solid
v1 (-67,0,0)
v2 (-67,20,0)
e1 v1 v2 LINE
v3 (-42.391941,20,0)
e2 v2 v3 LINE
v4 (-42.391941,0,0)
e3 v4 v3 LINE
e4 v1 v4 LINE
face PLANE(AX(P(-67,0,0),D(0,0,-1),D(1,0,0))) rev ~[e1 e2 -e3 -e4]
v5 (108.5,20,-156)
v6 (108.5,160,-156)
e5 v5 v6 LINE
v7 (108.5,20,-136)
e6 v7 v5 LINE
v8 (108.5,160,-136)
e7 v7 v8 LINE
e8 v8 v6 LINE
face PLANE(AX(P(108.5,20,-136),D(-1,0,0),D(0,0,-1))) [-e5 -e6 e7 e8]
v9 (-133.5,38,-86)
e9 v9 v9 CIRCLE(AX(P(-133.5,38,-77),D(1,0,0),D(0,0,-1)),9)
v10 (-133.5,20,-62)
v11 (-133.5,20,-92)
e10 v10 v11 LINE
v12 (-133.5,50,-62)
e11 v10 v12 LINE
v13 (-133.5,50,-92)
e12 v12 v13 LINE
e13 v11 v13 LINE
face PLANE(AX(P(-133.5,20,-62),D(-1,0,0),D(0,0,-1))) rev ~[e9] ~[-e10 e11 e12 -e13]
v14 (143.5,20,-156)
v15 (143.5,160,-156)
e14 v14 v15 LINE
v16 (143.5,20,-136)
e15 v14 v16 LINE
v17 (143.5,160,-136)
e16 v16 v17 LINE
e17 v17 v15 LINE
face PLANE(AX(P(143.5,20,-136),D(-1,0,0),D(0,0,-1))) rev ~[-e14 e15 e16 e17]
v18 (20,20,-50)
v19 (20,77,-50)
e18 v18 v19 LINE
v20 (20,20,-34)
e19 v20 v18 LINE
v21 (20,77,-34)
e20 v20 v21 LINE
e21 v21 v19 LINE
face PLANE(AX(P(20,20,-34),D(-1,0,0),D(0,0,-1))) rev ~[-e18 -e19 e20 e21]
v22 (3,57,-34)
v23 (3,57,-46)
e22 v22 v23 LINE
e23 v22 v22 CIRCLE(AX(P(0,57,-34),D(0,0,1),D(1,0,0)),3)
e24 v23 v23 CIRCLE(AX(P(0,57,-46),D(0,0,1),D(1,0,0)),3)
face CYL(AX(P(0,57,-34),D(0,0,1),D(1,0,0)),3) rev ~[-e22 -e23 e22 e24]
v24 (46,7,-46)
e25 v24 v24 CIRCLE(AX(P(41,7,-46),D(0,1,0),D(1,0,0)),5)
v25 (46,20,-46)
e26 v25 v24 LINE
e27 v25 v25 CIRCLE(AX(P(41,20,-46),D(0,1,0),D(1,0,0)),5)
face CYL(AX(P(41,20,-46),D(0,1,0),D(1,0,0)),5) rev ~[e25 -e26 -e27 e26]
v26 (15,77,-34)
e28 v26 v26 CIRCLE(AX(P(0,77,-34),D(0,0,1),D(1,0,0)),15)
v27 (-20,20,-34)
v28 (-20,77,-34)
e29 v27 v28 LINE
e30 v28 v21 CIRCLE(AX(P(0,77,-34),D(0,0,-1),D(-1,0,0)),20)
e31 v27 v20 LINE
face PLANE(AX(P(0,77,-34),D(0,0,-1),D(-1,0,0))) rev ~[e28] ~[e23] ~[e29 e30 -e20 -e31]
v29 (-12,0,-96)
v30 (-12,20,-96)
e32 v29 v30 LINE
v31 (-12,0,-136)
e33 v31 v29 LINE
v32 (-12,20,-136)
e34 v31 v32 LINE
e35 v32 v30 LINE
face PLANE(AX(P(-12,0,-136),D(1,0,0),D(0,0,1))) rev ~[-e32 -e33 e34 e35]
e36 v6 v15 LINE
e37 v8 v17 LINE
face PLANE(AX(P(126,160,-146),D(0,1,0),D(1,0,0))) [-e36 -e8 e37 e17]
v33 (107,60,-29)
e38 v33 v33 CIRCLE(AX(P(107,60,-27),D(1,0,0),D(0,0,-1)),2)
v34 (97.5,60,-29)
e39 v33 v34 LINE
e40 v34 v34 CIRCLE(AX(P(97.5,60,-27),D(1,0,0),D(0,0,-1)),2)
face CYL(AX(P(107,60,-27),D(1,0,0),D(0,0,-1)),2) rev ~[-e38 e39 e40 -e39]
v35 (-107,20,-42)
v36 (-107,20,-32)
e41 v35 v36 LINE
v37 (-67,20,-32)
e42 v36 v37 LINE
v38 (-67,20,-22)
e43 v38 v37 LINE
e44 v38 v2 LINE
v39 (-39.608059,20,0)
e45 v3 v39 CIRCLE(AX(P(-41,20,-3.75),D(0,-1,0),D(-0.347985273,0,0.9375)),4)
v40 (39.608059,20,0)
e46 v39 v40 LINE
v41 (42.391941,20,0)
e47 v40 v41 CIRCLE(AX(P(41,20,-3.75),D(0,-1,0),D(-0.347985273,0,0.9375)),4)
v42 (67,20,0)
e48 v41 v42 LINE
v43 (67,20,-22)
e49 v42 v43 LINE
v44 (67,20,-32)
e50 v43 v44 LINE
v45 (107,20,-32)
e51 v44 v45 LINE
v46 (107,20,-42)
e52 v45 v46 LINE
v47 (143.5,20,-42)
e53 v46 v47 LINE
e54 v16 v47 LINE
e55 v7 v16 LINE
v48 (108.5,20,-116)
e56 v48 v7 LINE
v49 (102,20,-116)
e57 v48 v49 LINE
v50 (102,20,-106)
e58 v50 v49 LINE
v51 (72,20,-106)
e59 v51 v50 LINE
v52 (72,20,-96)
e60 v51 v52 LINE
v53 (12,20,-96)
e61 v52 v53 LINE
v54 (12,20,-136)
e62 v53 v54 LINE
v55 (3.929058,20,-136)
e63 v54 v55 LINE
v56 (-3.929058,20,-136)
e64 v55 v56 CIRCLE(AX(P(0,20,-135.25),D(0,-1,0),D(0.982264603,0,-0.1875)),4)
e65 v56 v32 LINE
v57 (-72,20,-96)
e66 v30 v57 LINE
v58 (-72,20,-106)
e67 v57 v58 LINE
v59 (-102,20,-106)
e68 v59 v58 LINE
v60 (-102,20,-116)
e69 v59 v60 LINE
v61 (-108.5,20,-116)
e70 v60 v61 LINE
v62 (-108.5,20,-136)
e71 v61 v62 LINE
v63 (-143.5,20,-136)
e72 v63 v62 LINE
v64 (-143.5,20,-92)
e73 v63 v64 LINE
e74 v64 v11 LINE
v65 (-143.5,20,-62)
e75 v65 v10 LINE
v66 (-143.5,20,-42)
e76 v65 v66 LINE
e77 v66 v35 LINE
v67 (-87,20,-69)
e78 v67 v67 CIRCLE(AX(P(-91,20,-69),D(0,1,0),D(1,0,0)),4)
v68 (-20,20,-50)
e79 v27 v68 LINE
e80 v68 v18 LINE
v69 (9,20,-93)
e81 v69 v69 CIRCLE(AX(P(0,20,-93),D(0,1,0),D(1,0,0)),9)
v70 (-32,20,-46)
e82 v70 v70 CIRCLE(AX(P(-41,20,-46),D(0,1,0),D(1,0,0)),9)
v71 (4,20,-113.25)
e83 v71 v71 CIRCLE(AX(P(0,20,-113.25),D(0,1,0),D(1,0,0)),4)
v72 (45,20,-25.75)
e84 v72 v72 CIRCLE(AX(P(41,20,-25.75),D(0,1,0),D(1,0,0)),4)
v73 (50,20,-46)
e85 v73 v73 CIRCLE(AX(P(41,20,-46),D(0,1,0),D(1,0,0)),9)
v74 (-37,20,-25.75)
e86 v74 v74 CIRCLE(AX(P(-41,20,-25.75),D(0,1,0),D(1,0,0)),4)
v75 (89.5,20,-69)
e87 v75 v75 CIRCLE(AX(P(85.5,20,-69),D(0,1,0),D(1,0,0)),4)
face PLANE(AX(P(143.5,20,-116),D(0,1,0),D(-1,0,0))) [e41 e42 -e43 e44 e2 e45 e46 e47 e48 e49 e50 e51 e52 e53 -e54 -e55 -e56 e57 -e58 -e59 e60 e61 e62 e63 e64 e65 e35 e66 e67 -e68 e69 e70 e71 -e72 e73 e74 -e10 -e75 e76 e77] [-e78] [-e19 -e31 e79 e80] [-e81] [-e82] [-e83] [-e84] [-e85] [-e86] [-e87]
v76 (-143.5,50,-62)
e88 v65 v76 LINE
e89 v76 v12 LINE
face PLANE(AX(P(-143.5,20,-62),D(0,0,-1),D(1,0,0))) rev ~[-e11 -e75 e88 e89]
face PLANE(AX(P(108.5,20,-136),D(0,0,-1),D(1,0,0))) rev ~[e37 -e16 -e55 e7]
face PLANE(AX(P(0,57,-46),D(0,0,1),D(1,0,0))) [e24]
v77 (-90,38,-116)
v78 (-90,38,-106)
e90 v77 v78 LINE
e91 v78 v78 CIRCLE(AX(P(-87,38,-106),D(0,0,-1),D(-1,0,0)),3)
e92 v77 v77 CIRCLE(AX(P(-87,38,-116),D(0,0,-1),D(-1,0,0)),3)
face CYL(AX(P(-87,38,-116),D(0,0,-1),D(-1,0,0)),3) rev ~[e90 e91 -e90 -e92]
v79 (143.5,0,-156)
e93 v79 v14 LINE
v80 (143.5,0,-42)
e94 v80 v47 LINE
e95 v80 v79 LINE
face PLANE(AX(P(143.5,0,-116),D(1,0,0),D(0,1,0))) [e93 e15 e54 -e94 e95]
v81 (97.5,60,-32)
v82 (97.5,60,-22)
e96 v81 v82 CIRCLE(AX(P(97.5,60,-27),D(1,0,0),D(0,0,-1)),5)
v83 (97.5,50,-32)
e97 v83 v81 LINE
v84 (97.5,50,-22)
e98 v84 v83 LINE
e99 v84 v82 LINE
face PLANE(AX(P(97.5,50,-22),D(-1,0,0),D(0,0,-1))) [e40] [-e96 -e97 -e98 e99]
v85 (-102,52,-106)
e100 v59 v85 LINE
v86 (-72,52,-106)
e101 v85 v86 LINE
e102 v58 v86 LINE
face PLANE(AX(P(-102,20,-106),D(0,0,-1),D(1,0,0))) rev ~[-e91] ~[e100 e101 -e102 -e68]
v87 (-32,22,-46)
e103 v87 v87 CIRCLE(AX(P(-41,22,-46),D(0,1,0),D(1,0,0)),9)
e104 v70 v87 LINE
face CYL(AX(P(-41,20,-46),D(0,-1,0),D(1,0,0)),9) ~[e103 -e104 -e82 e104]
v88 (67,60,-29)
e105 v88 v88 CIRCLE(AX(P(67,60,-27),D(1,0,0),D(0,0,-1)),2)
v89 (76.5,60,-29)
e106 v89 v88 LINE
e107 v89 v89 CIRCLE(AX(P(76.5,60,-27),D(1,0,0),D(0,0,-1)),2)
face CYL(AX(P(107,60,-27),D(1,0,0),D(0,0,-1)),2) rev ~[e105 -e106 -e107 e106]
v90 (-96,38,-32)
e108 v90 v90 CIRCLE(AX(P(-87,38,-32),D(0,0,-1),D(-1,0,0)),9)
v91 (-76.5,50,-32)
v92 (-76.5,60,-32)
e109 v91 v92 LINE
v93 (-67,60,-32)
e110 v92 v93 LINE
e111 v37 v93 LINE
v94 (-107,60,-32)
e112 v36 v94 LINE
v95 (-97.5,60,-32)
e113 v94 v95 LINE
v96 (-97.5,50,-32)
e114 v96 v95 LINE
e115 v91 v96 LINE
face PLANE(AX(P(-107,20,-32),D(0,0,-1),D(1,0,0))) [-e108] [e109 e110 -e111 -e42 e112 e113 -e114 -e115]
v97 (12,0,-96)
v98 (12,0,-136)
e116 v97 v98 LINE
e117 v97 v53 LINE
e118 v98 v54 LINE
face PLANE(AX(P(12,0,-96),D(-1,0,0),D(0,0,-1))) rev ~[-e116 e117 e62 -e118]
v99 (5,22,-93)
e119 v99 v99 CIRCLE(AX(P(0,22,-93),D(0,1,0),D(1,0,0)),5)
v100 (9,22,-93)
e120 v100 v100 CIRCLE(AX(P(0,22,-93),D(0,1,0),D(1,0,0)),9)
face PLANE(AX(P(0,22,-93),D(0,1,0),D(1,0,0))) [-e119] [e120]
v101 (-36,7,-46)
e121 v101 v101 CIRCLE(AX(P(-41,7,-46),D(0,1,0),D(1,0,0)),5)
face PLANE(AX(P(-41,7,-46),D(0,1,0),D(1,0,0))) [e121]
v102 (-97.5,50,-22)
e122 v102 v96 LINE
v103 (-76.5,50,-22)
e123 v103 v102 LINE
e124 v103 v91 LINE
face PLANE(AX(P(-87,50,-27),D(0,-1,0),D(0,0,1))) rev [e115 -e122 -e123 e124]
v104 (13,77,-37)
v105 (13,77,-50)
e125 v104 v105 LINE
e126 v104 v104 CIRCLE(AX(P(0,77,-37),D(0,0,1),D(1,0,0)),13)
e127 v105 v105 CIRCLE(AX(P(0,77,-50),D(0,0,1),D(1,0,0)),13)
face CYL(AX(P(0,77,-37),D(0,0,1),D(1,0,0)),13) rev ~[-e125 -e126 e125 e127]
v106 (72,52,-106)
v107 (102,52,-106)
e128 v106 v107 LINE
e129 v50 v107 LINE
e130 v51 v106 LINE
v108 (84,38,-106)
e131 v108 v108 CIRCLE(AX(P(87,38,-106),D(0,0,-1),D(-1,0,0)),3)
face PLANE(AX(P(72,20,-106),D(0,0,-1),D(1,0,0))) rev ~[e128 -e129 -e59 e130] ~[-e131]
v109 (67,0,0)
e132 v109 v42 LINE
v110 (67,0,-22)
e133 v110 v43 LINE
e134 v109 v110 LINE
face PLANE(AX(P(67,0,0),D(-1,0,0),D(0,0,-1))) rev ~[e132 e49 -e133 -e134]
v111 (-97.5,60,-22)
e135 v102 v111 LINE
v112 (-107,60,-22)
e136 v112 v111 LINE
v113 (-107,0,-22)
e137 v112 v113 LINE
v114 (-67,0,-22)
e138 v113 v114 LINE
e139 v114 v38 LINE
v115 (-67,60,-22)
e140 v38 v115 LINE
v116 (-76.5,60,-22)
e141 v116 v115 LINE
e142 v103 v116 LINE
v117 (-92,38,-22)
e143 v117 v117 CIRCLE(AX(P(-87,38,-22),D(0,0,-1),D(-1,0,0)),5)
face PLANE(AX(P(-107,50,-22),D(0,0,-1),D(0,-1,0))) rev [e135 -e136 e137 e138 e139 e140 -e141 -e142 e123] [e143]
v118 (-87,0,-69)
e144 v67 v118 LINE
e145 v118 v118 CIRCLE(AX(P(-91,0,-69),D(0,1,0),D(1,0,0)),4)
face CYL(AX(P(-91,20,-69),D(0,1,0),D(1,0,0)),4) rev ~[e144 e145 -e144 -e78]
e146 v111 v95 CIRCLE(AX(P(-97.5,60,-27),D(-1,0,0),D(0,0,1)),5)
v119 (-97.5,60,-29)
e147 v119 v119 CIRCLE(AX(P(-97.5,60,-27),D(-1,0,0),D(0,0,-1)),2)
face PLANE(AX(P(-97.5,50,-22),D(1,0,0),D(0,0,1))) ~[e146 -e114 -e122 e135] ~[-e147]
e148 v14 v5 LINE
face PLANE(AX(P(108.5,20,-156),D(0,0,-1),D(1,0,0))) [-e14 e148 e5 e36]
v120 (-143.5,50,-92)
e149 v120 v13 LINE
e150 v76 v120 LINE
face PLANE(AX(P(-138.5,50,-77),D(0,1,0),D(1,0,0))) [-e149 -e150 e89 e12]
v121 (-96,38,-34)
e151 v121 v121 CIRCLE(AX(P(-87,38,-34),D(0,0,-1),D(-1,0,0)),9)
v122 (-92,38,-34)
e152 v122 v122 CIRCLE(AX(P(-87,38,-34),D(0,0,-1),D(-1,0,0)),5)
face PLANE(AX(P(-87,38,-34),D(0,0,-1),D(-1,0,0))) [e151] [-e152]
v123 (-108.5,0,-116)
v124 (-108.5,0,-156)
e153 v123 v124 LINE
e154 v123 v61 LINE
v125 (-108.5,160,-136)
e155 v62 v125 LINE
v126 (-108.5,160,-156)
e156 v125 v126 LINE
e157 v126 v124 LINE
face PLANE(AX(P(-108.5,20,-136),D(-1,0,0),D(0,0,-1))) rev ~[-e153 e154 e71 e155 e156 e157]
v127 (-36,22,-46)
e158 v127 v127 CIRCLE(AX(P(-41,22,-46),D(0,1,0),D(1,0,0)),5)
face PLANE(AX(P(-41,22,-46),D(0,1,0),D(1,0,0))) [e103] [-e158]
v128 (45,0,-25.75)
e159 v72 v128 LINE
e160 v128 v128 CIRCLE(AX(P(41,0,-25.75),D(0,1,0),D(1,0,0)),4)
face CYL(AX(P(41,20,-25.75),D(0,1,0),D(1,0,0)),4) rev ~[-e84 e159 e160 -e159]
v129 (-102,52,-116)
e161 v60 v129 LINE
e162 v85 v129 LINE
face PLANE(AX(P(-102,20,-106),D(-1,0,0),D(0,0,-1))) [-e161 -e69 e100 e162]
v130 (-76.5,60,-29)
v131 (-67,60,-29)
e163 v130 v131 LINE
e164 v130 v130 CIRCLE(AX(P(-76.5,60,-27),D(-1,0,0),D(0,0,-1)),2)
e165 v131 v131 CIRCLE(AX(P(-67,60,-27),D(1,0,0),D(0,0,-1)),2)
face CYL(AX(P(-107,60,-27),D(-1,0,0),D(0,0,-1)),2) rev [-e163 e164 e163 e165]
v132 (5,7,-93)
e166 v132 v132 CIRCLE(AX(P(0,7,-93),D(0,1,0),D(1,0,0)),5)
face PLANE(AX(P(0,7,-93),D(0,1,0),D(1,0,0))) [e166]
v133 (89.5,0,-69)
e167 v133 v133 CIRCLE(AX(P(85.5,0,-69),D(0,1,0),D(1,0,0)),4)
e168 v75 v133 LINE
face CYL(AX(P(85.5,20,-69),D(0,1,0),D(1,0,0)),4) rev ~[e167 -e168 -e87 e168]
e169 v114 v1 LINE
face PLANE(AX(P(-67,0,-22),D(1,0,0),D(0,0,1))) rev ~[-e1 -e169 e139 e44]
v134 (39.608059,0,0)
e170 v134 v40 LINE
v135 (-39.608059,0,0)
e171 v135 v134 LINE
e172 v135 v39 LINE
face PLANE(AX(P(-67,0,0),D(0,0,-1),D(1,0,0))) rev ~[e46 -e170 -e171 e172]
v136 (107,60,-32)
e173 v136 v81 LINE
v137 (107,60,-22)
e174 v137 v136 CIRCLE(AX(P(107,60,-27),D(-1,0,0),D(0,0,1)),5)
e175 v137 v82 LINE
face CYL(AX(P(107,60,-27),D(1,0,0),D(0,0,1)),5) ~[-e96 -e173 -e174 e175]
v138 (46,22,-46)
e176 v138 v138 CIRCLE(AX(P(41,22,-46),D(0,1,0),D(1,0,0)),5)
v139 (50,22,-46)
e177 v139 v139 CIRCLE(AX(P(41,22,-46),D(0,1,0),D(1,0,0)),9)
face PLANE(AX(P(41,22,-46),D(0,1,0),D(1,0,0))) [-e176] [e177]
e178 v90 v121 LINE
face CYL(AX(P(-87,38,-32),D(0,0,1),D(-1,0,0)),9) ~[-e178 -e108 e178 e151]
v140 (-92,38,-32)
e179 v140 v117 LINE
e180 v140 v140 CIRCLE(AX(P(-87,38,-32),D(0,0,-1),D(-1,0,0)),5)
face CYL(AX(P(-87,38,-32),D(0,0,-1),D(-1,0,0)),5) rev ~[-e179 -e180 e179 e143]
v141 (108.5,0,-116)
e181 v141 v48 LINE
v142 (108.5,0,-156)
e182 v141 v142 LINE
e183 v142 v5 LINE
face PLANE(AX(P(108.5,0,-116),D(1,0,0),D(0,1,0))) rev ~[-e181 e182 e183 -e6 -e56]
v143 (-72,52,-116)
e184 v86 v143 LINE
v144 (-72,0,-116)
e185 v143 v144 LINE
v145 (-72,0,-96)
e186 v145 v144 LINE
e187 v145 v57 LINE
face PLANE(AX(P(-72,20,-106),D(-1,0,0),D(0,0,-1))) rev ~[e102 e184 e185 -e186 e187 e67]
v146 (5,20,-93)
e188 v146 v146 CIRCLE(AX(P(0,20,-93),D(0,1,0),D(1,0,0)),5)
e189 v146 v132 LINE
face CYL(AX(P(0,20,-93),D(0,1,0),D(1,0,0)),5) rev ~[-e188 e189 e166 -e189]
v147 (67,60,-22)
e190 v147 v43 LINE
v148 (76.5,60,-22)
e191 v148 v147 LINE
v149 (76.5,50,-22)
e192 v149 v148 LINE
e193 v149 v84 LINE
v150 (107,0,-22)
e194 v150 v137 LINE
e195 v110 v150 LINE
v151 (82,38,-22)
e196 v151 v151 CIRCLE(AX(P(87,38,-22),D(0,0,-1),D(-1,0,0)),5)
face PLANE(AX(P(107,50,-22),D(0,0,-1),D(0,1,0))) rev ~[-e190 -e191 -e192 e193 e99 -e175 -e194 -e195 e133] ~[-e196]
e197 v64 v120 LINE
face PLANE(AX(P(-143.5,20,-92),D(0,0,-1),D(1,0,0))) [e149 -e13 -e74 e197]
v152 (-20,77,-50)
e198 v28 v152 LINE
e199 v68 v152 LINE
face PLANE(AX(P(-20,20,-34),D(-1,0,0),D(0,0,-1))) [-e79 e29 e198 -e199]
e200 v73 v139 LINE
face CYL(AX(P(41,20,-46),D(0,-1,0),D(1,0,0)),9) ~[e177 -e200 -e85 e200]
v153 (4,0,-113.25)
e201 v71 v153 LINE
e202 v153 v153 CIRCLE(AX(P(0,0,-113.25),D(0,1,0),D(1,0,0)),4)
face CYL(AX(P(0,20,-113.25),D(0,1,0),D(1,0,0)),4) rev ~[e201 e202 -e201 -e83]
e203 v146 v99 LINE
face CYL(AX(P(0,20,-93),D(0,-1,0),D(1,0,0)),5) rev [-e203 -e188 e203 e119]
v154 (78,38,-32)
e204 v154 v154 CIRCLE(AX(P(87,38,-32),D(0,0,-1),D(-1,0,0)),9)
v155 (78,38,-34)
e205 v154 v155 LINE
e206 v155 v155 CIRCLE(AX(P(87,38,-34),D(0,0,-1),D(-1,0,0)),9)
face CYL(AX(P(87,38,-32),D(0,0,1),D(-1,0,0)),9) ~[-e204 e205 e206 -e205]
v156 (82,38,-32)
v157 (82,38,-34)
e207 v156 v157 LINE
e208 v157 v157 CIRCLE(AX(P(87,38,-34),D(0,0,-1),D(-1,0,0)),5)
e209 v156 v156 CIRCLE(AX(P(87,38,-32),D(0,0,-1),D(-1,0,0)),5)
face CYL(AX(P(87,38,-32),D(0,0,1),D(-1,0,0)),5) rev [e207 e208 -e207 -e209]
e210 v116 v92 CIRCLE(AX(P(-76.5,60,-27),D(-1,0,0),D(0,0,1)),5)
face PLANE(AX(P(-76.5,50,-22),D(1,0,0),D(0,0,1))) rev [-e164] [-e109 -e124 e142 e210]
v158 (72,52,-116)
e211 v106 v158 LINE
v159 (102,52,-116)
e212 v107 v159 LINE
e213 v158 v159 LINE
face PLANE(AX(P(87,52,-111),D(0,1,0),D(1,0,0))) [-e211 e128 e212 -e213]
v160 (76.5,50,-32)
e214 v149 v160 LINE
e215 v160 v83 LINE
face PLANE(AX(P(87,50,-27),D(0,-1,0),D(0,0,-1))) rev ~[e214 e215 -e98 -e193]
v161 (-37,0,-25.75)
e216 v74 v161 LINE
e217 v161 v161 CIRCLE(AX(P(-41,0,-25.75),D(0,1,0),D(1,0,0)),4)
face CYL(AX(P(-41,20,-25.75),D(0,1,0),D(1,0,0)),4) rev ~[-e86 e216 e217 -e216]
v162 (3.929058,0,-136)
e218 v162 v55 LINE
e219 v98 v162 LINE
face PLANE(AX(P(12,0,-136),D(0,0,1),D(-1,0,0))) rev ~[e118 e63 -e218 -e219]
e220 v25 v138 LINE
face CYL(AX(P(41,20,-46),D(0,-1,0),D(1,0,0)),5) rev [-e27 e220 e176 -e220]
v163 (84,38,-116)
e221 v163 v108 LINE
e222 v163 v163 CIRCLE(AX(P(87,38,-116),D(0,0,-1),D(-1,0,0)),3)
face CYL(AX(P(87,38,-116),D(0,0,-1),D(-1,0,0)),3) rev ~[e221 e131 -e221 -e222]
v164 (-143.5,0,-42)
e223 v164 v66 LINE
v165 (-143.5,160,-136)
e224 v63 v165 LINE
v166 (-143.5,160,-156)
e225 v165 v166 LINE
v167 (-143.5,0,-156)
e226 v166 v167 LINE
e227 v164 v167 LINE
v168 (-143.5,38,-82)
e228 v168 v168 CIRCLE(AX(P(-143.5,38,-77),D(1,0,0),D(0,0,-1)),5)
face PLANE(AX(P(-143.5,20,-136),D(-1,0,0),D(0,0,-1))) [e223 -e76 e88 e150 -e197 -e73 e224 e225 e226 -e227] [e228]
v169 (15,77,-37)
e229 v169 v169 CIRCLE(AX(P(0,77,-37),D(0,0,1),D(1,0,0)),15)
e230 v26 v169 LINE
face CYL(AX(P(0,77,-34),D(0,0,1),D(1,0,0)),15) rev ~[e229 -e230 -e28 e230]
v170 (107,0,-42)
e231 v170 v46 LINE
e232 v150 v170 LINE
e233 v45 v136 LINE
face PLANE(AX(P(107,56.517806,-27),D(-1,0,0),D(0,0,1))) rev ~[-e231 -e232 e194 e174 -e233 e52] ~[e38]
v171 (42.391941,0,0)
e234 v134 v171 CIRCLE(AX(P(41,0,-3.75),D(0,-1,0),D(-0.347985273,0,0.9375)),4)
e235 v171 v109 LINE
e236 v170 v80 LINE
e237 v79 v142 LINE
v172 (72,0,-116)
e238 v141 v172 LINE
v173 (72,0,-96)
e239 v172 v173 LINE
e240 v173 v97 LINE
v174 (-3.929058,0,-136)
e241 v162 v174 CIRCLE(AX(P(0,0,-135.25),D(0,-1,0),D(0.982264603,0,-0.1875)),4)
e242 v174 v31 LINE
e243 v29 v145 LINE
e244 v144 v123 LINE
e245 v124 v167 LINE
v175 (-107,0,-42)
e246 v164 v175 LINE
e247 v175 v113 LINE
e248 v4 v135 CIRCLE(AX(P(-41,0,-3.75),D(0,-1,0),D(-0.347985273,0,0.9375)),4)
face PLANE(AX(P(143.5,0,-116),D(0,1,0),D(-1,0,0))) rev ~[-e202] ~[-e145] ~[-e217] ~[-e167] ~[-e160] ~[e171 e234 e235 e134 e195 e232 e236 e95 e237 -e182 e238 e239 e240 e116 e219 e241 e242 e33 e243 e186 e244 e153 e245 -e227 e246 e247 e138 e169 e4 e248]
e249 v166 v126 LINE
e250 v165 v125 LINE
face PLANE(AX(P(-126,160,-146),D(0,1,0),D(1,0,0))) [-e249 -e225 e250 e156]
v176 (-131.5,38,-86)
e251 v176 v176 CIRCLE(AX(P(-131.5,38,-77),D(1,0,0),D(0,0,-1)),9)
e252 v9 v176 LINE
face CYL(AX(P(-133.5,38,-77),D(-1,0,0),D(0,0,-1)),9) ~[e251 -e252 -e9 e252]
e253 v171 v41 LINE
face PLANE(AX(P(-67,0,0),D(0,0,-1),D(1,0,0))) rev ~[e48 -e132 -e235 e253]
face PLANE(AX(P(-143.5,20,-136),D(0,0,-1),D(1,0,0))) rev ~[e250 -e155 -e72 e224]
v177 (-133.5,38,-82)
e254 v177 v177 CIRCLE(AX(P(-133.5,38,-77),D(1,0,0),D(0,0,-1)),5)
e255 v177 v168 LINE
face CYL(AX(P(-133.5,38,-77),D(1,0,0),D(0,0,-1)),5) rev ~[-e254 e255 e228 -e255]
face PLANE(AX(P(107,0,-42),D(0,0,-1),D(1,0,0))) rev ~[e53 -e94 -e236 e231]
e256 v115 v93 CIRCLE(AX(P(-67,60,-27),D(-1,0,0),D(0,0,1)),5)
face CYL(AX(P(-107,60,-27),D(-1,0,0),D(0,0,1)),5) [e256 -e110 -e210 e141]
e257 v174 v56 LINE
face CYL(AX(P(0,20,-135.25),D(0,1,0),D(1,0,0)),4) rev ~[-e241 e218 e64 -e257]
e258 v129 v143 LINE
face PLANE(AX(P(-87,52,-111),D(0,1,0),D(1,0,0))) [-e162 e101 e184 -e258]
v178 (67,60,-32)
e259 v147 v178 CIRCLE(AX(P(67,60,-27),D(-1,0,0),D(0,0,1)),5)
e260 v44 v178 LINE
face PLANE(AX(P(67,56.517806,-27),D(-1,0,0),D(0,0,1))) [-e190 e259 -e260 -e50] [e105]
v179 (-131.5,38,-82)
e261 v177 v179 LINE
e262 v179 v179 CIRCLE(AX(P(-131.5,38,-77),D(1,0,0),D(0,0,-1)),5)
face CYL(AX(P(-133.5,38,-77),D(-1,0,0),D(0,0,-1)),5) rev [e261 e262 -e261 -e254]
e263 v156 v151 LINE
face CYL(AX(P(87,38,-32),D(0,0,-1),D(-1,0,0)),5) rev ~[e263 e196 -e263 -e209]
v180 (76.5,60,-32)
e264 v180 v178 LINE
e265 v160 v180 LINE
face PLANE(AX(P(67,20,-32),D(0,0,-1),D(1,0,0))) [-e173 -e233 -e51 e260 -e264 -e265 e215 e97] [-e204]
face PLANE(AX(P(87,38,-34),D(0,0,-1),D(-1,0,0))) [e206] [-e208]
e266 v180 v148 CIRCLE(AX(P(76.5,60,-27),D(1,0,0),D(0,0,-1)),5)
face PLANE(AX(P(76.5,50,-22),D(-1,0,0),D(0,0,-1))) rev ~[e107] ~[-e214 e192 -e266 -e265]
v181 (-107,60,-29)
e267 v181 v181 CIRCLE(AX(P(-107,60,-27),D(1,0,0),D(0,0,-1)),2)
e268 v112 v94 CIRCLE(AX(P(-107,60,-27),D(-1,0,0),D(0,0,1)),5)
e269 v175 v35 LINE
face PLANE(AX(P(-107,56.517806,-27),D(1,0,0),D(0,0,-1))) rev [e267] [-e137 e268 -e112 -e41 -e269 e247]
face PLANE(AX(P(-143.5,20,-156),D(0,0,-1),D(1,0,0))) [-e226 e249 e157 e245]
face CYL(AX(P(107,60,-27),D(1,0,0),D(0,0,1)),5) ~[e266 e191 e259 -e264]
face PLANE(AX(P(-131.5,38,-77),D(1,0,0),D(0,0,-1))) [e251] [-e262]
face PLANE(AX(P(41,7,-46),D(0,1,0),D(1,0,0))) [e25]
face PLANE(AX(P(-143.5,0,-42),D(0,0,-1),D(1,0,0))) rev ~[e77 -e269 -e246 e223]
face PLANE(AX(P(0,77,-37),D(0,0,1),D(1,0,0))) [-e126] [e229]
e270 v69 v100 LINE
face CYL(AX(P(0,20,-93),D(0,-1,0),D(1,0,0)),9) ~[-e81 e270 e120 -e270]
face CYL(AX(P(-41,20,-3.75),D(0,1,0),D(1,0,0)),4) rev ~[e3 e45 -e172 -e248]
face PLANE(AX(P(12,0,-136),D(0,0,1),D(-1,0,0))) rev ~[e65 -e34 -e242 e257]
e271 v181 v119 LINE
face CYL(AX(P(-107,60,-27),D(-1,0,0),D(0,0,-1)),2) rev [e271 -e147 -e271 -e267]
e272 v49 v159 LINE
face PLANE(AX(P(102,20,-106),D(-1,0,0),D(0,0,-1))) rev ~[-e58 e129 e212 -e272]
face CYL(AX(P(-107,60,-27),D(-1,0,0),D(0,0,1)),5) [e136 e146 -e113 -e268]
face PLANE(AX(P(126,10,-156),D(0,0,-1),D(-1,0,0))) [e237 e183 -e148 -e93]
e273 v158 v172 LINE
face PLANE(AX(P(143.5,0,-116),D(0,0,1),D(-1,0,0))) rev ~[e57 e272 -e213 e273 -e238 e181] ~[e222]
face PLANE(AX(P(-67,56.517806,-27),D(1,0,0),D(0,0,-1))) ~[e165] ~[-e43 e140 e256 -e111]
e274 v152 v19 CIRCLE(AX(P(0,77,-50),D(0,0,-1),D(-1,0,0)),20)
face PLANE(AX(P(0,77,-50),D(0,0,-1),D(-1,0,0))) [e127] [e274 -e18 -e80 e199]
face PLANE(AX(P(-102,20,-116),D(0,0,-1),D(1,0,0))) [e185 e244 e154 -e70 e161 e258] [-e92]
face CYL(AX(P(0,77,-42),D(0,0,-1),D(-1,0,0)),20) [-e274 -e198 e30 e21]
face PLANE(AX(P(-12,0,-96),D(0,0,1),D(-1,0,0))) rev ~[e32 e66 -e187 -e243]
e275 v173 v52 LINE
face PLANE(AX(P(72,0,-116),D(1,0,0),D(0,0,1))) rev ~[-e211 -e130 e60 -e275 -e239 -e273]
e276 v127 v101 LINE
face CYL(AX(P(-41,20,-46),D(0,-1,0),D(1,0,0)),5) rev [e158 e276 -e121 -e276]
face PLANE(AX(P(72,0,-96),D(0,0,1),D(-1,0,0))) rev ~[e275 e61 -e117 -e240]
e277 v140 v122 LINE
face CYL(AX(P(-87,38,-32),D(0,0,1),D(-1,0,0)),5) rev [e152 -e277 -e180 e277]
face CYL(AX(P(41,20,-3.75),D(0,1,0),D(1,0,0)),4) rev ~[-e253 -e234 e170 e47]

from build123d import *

# Parameters (mm, degrees)
EXTRUDE_1_DEPTH          = 20
SKETCH_3_W               = 10
SKETCH_3_H               = 30
EXTRUDE_2_DEPTH          = 30
SKETCH_5_W               = 40
SKETCH_5_H               = 10
EXTRUDE_3_DEPTH          = 30
SKETCH_2_R               = 5
CUT_EXTRUDE_1_DEPTH      = 13
CUT_EXTRUDE_2_REACH      = 12
SKETCH_4_R               = 5
CUT_EXTRUDE_3_REACH      = 34
SKETCH_6_R               = 5
SKETCH_7_R               = 9
SKETCH_7_R_2             = 5
EXTRUDE_4_DEPTH          = 2
SKETCH_8_R               = 9
SKETCH_8_R_2             = 5
EXTRUDE_5_DEPTH          = 2
SKETCH_9_R               = 9
SKETCH_9_R_2             = 5
EXTRUDE_6_DEPTH          = 2
SKETCH_11_W              = 40
SKETCH_11_H              = 16
EXTRUDE_7_DEPTH          = 57
SKETCH_12_W              = 20
SKETCH_12_H              = 16
REVOLVE_1_ANGLE          = 180
SKETCH_13_R              = 15
CUT_EXTRUDE_5_DEPTH      = 35
CUT_EXTRUDE_5_DEPTH_BACK = 3
CUT_EXTRUDE_6_REACH      = 101
SKETCH_14_R              = 13
SKETCH_15_R              = 3
CUT_EXTRUDE_7_DEPTH      = 12
SKETCH_10_R              = 4
CUT_EXTRUDE_4_DEPTH      = 21
EXTRUDE_8_DEPTH          = 40
SKETCH_17_W              = 10
SKETCH_17_H              = 21
CUT_EXTRUDE_8_DEPTH      = 15
SKETCH_18_R              = 2
CUT_EXTRUDE_9_DEPTH      = 40
SKETCH_19_W              = 30
SKETCH_19_H              = 10
EXTRUDE_9_DEPTH          = 32
SKETCH_20_R              = 3
CUT_EXTRUDE_10_DEPTH     = 20
SKETCH_21_W              = 35
SKETCH_21_H              = 20
EXTRUDE_10_DEPTH         = 40
SKETCH_22_W              = 35
SKETCH_22_H              = 20
EXTRUDE_11_DEPTH         = 140


with BuildPart() as part:
    # 草图1 → 凸台-拉伸1 (new body)
    with BuildSketch(Plane(origin=(0, 0, 0), x_dir=(1, 0, 0), z_dir=(0, 1, 0))):
        Polygon((-67, 0), (67, 0), (67, 22), (107, 22), (107, 42), (143.5, 42), (143.5, 116), (72, 116), (72, 96), (12, 96), (12, 136), (-12, 136), (-12, 96), (-72, 96), (-72, 116), (-143.5, 116), (-143.5, 42), (-107, 42), (-107, 22), (-67, 22), align=None)
    extrude(amount=EXTRUDE_1_DEPTH)

    # 草图3 → 凸台-拉伸2 (add)
    with BuildSketch(Plane(origin=(0, 20, 0), x_dir=(1, 0, 0), z_dir=(0, 1, 0))):
        with Locations((-138.5, 77)):
            Rectangle(SKETCH_3_W, SKETCH_3_H)
    extrude(amount=EXTRUDE_2_DEPTH)

    # 草图5 → 凸台-拉伸3 (add)
    with BuildSketch(Plane(origin=(0, 20, 0), x_dir=(1, 0, 0), z_dir=(0, 1, 0))):
        with Locations((-87, 27)):
            Rectangle(SKETCH_5_W, SKETCH_5_H)
        with Locations((87, 27)):
            Rectangle(SKETCH_5_W, SKETCH_5_H)
    extrude(amount=EXTRUDE_3_DEPTH)

    # 草图2 → 切除-拉伸1 (cut)
    with BuildSketch(Plane(origin=(0, 20, 0), x_dir=(1, 0, 0), z_dir=(0, 1, 0))):
        with Locations((0, 93)):
            Circle(SKETCH_2_R)
        with Locations((-41, 46)):
            Circle(SKETCH_2_R)
        with Locations((41, 46)):
            Circle(SKETCH_2_R)
    extrude(amount=-CUT_EXTRUDE_1_DEPTH, mode=Mode.SUBTRACT)

    # 草图4 → 切除-拉伸2 (cut, up to next)
    with BuildSketch(Plane(origin=(-133.5, 0, 0), x_dir=(0, 0, -1), z_dir=(1, 0, 0)), mode=Mode.PRIVATE) as cut_extrude_2_sk1:
        with Locations((77, 38)):
            Circle(SKETCH_4_R)
    cut_extrude_2_tool1 = extrude(cut_extrude_2_sk1.sketch, amount=-CUT_EXTRUDE_2_REACH, mode=Mode.PRIVATE) & part.part
    add(cut_extrude_2_tool1.solids().sort_by_distance((-133.5, 38, -77))[0], mode=Mode.SUBTRACT)

    # 草图6 → 切除-拉伸3 (cut, up to next)
    with BuildSketch(Plane(origin=(0, 0, -32), x_dir=(-1, 0, 0), z_dir=(0, 0, -1)), mode=Mode.PRIVATE) as cut_extrude_3_sk1:
        with Locations((87, 38)):
            Circle(SKETCH_6_R)
    cut_extrude_3_tool1 = extrude(cut_extrude_3_sk1.sketch, amount=-CUT_EXTRUDE_3_REACH, mode=Mode.PRIVATE) & part.part
    add(cut_extrude_3_tool1.solids().sort_by_distance((-87, 38, -32))[0], mode=Mode.SUBTRACT)
    # 草图6 → 切除-拉伸3 (cut, up to next)
    with BuildSketch(Plane(origin=(0, 0, -32), x_dir=(-1, 0, 0), z_dir=(0, 0, -1)), mode=Mode.PRIVATE) as cut_extrude_3_sk2:
        with Locations((-87, 38)):
            Circle(SKETCH_6_R)
    cut_extrude_3_tool2 = extrude(cut_extrude_3_sk2.sketch, amount=-CUT_EXTRUDE_3_REACH, mode=Mode.PRIVATE) & part.part
    add(cut_extrude_3_tool2.solids().sort_by_distance((87, 38, -32))[0], mode=Mode.SUBTRACT)

    # 草图7 → 凸台-拉伸4 (add)
    with BuildSketch(Plane(origin=(-133.5, 0, 0), x_dir=(0, 0, -1), z_dir=(1, 0, 0))):
        with Locations((77, 38)):
            Circle(SKETCH_7_R)
        with Locations((77, 38)):
            Circle(SKETCH_7_R_2, mode=Mode.SUBTRACT)
    extrude(amount=EXTRUDE_4_DEPTH)

    # 草图8 → 凸台-拉伸5 (add)
    with BuildSketch(Plane(origin=(0, 0, -32), x_dir=(-1, 0, 0), z_dir=(0, 0, -1))):
        with Locations((-87, 38)):
            Circle(SKETCH_8_R)
        with Locations((-87, 38)):
            Circle(SKETCH_8_R_2, mode=Mode.SUBTRACT)
        with Locations((87, 38)):
            Circle(SKETCH_8_R)
        with Locations((87, 38)):
            Circle(SKETCH_8_R_2, mode=Mode.SUBTRACT)
    extrude(amount=EXTRUDE_5_DEPTH)

    # 草图9 → 凸台-拉伸6 (add)
    with BuildSketch(Plane(origin=(0, 20, 0), x_dir=(1, 0, 0), z_dir=(0, 1, 0))):
        with Locations((-41, 46)):
            Circle(SKETCH_9_R)
        with Locations((-41, 46)):
            Circle(SKETCH_9_R_2, mode=Mode.SUBTRACT)
        with Locations((0, 93)):
            Circle(SKETCH_9_R)
        with Locations((0, 93)):
            Circle(SKETCH_9_R_2, mode=Mode.SUBTRACT)
        with Locations((41, 46)):
            Circle(SKETCH_9_R)
        with Locations((41, 46)):
            Circle(SKETCH_9_R_2, mode=Mode.SUBTRACT)
    extrude(amount=EXTRUDE_6_DEPTH)

    # 草图11 → 凸台-拉伸7 (add)
    with BuildSketch(Plane(origin=(0, 20, 0), x_dir=(1, 0, 0), z_dir=(0, 1, 0))):
        with Locations((0, 42)):
            Rectangle(SKETCH_11_W, SKETCH_11_H)
    extrude(amount=EXTRUDE_7_DEPTH)

    # 草图12 → 旋转1 (revolve)
    with BuildSketch(Plane(origin=(0, 77, 0), x_dir=(1, 0, 0), z_dir=(0, 1, 0))):
        with Locations((-10, 42)):
            Rectangle(SKETCH_12_W, SKETCH_12_H)
    revolve(axis=Axis((0, 77, -50), (0, 0, -1)), revolution_arc=REVOLVE_1_ANGLE)

    # 草图13 → 切除-拉伸5 (cut, two sides)
    with BuildSketch(Plane.XY.offset(-34)) as cut_extrude_5_sk:
        with Locations((0, 77)):
            Circle(SKETCH_13_R)
    extrude(amount=CUT_EXTRUDE_5_DEPTH, mode=Mode.SUBTRACT)
    extrude(cut_extrude_5_sk.sketch, amount=-CUT_EXTRUDE_5_DEPTH_BACK, mode=Mode.SUBTRACT)

    # 草图14 → 切除-拉伸6 (cut, up to next)
    with BuildSketch(Plane.XY.offset(-37), mode=Mode.PRIVATE) as cut_extrude_6_sk1:
        with Locations((0, 77)):
            Circle(SKETCH_14_R)
    cut_extrude_6_tool1 = extrude(cut_extrude_6_sk1.sketch, amount=-CUT_EXTRUDE_6_REACH, mode=Mode.PRIVATE) & part.part
    add(cut_extrude_6_tool1.solids().sort_by_distance((0, 77, -37))[0], mode=Mode.SUBTRACT)

    # 草图15 → 切除-拉伸7 (cut)
    with BuildSketch(Plane.XY.offset(-34)):
        with Locations((0, 57)):
            Circle(SKETCH_15_R)
    extrude(amount=-CUT_EXTRUDE_7_DEPTH, mode=Mode.SUBTRACT)

    # 草图10 → 切除-拉伸4 (cut, through all)
    with BuildSketch(Plane(origin=(0, 20, 0), x_dir=(1, 0, 0), z_dir=(0, 1, 0))):
        with Locations((-41, 25.75)):
            Circle(SKETCH_10_R)
        with Locations((41, 25.75)):
            Circle(SKETCH_10_R)
        with Locations((-41, 3.75)):
            Circle(SKETCH_10_R)
        with Locations((41, 3.75)):
            Circle(SKETCH_10_R)
        with Locations((-91, 69)):
            Circle(SKETCH_10_R)
        with Locations((0, 113.25)):
            Circle(SKETCH_10_R)
        with Locations((0, 135.25)):
            Circle(SKETCH_10_R)
        with Locations((85.5, 69)):
            Circle(SKETCH_10_R)
    extrude(amount=-CUT_EXTRUDE_4_DEPTH, mode=Mode.SUBTRACT)

    # 草图16 → 凸台-拉伸8 (add)
    with BuildSketch(Plane(origin=(107, 0, 0), x_dir=(0, 0, -1), z_dir=(1, 0, 0))):
        with BuildLine():
            Line((22, 50), (22, 60))
            ThreePointArc((22, 60), (27, 65), (32, 60))
            Line((32, 60), (32, 50))
            Line((32, 50), (22, 50))
        make_face()
    extrude_8 = extrude(amount=-EXTRUDE_8_DEPTH)

    # 草图17 → 切除-拉伸8 (cut)
    with BuildSketch(Plane(origin=(45, 50, 0), x_dir=(0, 0, -1), z_dir=(0, -1, 0))):
        with Locations((27, 42)):
            Rectangle(SKETCH_17_W, SKETCH_17_H)
    cut_extrude_8 = extrude(amount=-CUT_EXTRUDE_8_DEPTH, mode=Mode.SUBTRACT)

    # 草图18 → 切除-拉伸9 (cut)
    with BuildSketch(Plane(origin=(107, 0, 0), x_dir=(0, 0, -1), z_dir=(1, 0, 0))):
        with Locations((27, 60)):
            Circle(SKETCH_18_R)
    cut_extrude_9 = extrude(amount=-CUT_EXTRUDE_9_DEPTH, mode=Mode.SUBTRACT)

    # 镜向1: 凸台-拉伸8, 切除-拉伸8, 切除-拉伸9 across plane
    add(extrude_8.mirror(Plane(origin=(0, 0, 0), x_dir=(0, 0, 1), z_dir=(1, 0, 0))))
    add(cut_extrude_8.mirror(Plane(origin=(0, 0, 0), x_dir=(0, 0, 1), z_dir=(1, 0, 0))), mode=Mode.SUBTRACT)
    add(cut_extrude_9.mirror(Plane(origin=(0, 0, 0), x_dir=(0, 0, 1), z_dir=(1, 0, 0))), mode=Mode.SUBTRACT)

    # 草图19 → 凸台-拉伸9 (add)
    with BuildSketch(Plane(origin=(0, 20, 0), x_dir=(1, 0, 0), z_dir=(0, 1, 0))):
        with Locations((-87, 111)):
            Rectangle(SKETCH_19_W, SKETCH_19_H)
        with Locations((87, 111)):
            Rectangle(SKETCH_19_W, SKETCH_19_H)
    extrude(amount=EXTRUDE_9_DEPTH)

    # 草图20 → 切除-拉伸10 (cut)
    with BuildSketch(Plane(origin=(0, 0, -116), x_dir=(-1, 0, 0), z_dir=(0, 0, -1))):
        with Locations((-87, 38)):
            Circle(SKETCH_20_R)
        with Locations((87, 38)):
            Circle(SKETCH_20_R)
    extrude(amount=-CUT_EXTRUDE_10_DEPTH, mode=Mode.SUBTRACT)

    # 草图21 → 凸台-拉伸10 (add)
    with BuildSketch(Plane(origin=(0, 0, -116), x_dir=(-1, 0, 0), z_dir=(0, 0, -1))):
        with Locations((-126, 10)):
            Rectangle(SKETCH_21_W, SKETCH_21_H)
        with Locations((126, 10)):
            Rectangle(SKETCH_21_W, SKETCH_21_H)
    extrude(amount=EXTRUDE_10_DEPTH)

    # 草图22 → 凸台-拉伸11 (add)
    with BuildSketch(Plane(origin=(0, 20, 0), x_dir=(1, 0, 0), z_dir=(0, 1, 0))):
        with Locations((-126, 146)):
            Rectangle(SKETCH_22_W, SKETCH_22_H)
        with Locations((126, 146)):
            Rectangle(SKETCH_22_W, SKETCH_22_H)
    extrude(amount=EXTRUDE_11_DEPTH)


solid = part.part
